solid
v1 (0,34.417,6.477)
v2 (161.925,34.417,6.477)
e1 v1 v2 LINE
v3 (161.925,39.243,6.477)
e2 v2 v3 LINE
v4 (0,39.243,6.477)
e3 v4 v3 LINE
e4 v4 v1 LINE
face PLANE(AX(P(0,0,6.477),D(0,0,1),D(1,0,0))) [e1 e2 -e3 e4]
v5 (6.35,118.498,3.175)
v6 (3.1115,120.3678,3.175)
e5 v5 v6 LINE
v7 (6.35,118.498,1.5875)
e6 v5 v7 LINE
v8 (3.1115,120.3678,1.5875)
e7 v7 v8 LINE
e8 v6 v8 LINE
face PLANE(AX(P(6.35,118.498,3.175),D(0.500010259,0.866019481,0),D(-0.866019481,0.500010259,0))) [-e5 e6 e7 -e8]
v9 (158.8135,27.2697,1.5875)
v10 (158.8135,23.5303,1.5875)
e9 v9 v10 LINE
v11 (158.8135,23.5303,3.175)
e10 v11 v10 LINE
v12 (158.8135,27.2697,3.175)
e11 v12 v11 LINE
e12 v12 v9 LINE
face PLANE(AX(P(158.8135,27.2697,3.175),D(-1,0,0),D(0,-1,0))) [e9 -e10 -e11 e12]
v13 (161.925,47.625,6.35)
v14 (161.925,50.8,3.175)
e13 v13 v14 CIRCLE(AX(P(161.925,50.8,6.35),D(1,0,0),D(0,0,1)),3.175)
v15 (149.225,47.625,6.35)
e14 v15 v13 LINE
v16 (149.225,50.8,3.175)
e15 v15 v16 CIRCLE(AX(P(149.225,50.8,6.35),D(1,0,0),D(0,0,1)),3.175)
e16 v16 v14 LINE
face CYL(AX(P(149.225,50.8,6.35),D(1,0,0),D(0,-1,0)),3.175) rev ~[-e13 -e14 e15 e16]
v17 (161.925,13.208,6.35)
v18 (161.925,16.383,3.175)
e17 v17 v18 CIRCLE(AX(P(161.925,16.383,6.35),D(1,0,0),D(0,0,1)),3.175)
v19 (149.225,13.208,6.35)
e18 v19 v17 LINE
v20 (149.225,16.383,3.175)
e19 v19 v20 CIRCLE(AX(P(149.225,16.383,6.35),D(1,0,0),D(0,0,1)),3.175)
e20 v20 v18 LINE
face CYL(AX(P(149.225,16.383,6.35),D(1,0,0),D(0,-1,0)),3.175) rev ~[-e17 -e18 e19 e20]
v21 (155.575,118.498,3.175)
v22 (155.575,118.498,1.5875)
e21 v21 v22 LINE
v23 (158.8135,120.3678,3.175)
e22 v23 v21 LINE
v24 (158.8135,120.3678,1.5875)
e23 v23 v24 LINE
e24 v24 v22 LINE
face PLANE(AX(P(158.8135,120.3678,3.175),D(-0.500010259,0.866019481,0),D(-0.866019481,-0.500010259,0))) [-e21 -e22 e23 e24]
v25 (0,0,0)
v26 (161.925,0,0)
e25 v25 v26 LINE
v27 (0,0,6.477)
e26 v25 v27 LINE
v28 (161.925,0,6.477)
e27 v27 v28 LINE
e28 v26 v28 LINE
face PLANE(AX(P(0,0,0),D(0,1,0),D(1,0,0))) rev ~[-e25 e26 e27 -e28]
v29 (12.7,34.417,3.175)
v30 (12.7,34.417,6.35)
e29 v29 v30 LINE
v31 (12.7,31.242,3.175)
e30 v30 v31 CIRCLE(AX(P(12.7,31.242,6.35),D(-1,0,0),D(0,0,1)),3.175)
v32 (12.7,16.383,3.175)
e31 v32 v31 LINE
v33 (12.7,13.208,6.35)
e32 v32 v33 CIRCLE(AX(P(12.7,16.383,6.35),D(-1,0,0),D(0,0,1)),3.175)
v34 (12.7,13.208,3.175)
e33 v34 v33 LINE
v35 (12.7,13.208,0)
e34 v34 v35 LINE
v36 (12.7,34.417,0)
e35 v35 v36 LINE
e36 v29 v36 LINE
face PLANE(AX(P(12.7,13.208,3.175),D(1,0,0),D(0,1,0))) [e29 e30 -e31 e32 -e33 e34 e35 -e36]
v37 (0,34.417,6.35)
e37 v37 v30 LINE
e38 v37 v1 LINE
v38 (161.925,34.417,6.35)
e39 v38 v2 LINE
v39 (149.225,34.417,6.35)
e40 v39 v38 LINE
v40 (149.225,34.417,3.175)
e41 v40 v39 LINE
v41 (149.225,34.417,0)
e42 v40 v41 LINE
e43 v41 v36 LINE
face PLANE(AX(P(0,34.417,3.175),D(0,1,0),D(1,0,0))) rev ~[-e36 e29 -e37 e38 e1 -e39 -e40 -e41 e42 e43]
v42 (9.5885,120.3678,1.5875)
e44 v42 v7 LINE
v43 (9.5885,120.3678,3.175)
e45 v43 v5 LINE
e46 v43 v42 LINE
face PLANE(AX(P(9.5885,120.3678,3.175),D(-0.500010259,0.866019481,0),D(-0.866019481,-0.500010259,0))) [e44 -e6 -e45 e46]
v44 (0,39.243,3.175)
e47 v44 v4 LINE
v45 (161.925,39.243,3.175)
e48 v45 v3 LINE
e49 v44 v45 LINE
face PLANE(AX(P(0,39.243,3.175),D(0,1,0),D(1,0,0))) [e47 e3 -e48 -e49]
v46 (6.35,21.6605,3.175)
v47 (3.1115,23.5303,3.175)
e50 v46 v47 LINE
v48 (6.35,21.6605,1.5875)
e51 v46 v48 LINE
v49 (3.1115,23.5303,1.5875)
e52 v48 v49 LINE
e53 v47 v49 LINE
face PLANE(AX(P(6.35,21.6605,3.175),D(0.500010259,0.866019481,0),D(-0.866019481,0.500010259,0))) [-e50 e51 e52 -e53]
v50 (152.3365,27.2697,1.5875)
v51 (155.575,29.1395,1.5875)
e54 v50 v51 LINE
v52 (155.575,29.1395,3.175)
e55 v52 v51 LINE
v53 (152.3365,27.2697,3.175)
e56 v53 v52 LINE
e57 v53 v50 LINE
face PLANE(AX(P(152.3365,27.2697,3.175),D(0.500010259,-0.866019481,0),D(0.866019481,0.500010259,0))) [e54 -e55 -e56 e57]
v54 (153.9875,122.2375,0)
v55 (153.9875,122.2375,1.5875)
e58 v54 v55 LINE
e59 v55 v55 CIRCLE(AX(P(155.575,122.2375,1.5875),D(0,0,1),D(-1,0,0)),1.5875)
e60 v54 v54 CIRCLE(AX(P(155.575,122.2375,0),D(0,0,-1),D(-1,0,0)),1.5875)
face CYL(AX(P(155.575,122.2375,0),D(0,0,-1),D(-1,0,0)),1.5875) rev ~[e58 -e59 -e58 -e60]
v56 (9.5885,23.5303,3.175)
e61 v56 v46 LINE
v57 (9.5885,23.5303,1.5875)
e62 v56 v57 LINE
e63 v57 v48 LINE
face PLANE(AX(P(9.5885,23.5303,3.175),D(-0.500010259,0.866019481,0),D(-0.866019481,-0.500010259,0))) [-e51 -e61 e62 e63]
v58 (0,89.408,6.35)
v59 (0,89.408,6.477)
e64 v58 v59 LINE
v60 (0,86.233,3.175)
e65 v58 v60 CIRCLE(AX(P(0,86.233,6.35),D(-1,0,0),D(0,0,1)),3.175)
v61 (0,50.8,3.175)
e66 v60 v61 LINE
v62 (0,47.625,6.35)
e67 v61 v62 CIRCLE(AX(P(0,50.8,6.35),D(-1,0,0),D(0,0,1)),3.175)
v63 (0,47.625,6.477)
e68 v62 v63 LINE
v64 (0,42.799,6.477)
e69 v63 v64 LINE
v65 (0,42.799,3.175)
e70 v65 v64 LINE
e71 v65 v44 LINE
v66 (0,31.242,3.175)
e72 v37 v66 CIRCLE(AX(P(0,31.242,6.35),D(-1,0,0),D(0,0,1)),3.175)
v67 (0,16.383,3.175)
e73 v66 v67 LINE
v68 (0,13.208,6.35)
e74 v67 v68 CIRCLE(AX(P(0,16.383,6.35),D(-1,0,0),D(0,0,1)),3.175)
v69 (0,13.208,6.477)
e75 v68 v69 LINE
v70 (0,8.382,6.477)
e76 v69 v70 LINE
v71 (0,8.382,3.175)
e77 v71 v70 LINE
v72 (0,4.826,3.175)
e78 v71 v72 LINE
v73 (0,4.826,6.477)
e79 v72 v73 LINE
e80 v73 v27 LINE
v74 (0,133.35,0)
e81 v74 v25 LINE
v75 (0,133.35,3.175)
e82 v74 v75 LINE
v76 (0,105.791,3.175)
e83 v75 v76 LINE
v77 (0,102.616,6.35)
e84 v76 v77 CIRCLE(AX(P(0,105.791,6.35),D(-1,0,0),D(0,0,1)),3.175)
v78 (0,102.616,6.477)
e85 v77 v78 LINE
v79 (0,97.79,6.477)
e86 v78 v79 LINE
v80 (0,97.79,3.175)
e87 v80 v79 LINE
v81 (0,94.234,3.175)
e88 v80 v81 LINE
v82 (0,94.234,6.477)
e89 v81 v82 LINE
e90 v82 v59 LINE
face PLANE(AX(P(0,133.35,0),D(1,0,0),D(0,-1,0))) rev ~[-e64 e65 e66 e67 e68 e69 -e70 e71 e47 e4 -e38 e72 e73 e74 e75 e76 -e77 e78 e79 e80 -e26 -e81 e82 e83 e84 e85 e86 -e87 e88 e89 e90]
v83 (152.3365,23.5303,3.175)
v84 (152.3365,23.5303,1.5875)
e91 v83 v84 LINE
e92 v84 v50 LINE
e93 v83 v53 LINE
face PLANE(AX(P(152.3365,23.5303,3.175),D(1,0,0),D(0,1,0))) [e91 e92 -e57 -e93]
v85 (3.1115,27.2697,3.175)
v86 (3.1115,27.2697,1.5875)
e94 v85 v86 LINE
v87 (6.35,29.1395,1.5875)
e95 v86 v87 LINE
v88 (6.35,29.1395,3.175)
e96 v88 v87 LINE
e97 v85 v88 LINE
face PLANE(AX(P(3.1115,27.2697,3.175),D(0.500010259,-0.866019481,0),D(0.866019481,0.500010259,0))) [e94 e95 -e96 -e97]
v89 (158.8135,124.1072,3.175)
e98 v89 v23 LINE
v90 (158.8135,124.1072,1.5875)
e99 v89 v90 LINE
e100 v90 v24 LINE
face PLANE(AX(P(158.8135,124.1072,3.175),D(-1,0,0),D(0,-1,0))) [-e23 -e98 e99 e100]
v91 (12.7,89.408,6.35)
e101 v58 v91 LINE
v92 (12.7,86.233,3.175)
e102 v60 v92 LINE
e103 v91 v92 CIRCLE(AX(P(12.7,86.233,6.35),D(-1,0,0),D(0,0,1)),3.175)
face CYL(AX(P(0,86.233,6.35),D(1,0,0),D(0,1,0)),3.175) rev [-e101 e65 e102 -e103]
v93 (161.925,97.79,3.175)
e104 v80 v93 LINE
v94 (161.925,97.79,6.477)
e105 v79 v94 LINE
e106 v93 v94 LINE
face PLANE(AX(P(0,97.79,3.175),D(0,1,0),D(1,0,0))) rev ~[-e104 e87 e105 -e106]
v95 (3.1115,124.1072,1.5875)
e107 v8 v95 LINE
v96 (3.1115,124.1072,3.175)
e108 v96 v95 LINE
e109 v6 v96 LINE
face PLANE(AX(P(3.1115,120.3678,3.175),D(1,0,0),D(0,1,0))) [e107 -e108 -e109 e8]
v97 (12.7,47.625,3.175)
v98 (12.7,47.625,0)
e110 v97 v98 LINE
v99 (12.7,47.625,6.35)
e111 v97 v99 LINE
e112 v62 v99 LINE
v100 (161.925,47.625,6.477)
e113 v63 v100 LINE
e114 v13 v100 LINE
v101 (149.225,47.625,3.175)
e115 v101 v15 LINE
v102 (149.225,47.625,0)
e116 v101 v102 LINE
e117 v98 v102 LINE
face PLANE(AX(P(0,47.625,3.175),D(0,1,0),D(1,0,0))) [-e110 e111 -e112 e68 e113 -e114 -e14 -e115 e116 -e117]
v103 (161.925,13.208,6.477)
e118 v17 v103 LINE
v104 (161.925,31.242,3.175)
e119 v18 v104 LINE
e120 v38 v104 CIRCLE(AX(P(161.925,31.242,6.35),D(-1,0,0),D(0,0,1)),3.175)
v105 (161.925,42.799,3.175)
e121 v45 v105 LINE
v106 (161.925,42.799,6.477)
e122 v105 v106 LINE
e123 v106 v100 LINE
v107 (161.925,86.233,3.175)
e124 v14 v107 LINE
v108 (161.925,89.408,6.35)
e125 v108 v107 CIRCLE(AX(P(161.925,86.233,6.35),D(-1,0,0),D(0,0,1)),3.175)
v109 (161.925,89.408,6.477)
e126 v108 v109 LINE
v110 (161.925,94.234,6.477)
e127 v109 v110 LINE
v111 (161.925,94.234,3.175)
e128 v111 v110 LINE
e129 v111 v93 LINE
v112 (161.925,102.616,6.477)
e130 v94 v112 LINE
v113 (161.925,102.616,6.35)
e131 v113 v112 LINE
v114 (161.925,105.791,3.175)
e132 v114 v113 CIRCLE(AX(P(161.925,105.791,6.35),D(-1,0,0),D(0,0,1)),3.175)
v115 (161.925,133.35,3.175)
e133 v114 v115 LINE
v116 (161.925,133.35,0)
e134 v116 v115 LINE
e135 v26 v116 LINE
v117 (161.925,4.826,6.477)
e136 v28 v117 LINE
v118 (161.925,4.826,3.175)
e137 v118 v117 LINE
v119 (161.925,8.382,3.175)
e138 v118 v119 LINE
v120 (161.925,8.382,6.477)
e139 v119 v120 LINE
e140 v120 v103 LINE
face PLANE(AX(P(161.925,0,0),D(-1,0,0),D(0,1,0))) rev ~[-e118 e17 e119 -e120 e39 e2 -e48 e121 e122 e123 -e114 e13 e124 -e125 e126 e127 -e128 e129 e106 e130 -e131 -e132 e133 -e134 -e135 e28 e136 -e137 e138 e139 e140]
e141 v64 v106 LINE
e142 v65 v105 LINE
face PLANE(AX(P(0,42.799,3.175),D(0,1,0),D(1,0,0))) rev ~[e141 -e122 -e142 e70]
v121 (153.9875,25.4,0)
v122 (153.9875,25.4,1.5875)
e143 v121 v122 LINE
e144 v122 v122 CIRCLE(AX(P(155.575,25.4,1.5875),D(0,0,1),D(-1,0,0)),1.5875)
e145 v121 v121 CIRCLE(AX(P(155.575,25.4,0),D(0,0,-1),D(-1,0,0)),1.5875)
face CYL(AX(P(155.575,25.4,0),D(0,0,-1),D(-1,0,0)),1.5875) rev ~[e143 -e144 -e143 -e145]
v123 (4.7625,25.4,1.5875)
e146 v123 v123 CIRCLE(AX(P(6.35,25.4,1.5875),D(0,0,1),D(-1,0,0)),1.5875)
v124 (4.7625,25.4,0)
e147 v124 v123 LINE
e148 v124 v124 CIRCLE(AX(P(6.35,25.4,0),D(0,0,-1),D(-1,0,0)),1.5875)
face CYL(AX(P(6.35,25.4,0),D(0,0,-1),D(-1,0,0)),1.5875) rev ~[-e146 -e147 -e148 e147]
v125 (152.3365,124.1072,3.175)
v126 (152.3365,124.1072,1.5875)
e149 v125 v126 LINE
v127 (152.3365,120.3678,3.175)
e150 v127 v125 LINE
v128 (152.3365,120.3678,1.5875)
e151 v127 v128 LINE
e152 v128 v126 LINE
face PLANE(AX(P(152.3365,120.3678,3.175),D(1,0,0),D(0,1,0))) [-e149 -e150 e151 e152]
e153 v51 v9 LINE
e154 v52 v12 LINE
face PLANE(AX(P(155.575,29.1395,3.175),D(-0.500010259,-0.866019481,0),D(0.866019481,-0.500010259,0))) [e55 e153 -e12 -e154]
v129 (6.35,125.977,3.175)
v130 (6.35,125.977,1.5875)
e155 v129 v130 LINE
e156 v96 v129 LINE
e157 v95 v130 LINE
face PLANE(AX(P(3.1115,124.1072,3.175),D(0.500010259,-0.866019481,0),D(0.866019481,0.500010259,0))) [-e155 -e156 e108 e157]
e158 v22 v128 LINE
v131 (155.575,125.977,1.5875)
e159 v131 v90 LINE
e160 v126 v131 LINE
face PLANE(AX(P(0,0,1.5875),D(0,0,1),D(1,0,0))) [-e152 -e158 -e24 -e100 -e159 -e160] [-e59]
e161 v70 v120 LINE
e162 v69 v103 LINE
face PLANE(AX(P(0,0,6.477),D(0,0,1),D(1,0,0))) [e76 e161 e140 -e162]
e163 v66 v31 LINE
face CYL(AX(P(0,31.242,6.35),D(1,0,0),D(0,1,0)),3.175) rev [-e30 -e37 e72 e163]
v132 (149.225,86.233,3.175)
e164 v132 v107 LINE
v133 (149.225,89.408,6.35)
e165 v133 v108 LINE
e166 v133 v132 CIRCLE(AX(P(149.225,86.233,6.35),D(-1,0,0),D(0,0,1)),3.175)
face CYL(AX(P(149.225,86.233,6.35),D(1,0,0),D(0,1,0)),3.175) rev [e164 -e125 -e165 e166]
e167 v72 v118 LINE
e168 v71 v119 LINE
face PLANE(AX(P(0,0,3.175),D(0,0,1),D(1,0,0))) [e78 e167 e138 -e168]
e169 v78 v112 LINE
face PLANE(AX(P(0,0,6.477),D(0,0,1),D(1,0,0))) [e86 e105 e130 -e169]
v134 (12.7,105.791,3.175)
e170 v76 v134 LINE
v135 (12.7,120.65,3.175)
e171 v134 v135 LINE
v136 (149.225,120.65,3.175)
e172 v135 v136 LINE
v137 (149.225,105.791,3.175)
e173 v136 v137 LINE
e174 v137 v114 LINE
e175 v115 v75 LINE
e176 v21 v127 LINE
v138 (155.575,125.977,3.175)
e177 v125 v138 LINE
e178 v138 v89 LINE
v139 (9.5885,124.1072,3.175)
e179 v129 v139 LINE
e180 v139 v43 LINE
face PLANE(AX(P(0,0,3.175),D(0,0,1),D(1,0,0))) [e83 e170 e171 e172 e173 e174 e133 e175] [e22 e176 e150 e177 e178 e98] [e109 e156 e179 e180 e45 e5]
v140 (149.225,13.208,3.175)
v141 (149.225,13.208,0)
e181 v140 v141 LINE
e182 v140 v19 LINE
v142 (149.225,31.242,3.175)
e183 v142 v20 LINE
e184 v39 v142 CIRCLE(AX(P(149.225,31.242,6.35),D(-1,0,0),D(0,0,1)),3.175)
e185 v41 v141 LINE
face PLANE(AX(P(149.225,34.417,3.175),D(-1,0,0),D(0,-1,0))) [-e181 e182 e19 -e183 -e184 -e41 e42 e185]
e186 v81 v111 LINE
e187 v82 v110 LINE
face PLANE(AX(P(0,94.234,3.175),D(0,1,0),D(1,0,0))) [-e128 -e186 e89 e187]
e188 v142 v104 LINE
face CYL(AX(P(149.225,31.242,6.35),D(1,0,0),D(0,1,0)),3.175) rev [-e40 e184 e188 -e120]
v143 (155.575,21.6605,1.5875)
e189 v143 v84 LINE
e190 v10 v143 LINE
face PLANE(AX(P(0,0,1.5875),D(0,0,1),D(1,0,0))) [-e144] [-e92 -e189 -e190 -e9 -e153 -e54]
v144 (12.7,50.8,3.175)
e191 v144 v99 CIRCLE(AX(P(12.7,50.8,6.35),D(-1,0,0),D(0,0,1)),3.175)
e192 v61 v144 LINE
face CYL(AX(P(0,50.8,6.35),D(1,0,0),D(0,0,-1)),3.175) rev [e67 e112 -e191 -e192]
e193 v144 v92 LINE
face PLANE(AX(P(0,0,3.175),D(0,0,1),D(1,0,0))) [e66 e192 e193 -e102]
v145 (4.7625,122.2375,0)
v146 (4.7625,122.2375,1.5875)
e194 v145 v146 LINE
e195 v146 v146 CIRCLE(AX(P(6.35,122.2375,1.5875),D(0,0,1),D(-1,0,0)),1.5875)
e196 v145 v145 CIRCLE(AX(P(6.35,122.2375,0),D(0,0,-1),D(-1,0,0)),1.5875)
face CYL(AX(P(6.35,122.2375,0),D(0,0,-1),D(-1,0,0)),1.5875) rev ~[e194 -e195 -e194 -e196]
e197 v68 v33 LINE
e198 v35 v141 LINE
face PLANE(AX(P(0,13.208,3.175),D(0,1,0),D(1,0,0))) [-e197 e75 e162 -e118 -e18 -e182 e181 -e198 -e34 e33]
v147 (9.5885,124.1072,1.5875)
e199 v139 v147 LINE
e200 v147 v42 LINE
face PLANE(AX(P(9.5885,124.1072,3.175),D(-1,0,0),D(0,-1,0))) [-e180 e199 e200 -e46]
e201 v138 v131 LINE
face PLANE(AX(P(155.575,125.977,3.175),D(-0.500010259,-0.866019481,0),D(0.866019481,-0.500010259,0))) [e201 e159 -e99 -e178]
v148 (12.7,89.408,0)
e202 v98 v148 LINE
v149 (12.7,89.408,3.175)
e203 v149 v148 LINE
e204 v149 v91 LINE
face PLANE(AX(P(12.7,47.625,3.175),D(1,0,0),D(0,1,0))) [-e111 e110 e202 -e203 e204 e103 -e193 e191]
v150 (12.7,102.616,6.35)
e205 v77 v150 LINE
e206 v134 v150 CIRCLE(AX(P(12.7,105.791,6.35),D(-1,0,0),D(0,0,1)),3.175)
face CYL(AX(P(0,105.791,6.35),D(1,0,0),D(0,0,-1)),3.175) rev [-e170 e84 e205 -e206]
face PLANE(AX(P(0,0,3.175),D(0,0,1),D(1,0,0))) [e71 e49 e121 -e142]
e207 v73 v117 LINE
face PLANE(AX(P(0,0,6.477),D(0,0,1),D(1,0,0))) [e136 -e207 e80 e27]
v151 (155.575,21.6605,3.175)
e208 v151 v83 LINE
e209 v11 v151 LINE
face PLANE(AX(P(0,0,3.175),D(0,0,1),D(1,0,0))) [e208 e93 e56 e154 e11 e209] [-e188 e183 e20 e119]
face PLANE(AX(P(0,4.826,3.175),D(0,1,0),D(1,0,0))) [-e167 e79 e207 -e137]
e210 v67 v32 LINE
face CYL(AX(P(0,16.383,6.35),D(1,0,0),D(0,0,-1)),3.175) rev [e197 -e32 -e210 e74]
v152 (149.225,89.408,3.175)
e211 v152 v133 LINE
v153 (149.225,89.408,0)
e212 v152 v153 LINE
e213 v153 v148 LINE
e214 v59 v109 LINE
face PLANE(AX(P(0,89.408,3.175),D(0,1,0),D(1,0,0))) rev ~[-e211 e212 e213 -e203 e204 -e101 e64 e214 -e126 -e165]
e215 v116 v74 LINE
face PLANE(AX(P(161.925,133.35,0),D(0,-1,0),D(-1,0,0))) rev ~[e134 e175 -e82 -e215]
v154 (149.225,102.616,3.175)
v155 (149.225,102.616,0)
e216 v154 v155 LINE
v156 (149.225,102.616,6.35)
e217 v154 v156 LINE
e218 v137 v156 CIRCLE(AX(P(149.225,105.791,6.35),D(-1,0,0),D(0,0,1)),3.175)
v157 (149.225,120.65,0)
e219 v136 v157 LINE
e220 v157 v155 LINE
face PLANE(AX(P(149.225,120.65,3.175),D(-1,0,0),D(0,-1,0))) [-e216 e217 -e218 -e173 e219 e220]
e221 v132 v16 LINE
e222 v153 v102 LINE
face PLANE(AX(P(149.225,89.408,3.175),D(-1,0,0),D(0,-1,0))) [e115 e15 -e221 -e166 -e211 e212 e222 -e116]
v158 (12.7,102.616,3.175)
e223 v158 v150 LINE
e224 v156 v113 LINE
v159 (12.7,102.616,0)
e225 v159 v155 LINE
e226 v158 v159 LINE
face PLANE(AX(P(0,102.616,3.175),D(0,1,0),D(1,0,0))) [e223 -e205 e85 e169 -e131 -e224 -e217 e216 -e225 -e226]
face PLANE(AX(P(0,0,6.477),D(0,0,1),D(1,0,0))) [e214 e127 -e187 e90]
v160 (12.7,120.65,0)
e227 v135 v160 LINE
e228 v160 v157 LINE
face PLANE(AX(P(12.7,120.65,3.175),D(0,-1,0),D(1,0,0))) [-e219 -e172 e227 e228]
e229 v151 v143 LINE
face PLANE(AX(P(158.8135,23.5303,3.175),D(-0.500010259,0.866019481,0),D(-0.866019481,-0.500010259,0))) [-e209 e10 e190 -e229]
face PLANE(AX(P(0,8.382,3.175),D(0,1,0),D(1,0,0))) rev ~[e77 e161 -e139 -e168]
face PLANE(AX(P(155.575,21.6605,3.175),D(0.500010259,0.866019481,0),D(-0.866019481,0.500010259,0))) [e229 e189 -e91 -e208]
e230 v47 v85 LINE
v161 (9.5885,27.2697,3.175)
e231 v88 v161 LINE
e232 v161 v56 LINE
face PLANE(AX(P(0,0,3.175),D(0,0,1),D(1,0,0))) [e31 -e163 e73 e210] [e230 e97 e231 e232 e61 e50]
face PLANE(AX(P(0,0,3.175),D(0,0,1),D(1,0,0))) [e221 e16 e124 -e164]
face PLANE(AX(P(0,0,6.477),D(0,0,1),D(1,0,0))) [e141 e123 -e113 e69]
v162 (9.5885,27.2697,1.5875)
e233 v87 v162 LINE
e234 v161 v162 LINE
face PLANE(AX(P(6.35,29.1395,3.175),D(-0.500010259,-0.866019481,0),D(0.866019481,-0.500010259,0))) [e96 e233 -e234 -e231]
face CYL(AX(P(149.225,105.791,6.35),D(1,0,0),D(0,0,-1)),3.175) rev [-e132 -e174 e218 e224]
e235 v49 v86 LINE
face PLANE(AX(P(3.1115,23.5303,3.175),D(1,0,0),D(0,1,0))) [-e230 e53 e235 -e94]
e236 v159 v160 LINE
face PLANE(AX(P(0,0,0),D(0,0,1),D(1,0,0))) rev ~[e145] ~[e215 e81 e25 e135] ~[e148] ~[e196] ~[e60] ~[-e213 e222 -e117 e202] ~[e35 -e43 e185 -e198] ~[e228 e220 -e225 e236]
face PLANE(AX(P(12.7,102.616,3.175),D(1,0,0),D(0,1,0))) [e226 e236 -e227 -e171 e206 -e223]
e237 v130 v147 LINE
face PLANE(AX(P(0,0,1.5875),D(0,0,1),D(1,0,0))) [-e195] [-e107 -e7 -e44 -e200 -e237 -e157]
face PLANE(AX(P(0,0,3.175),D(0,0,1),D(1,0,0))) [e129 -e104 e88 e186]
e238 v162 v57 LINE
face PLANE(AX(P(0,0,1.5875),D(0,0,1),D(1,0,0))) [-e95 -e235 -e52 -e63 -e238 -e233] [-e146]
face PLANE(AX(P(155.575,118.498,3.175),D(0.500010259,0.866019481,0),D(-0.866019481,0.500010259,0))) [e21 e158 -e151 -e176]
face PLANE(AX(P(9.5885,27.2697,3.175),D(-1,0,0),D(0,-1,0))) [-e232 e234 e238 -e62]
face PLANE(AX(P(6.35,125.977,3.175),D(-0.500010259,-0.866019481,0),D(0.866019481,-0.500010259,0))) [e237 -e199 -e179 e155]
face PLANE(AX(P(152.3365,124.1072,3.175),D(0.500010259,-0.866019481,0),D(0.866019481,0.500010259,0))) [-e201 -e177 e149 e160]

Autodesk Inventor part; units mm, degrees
ref_plane "YZ Plane" through (0, 0, 0) normal (1, 0, 0) x (0, 1, 0)
ref_plane "XZ Plane" through (0, 0, 0) normal (0, 1, 0) x (-1, 0, 0)
ref_plane "XY Plane" through (0, 0, 0) normal (0, 0, 1) x (1, 0, 0)
sketch "Sketch1" plane through (0, 0, 0) normal (0, 0, 1) x (1, 0, 0)
  line L0 (0, 0) -> (161.925, 0)
  line L1 (161.925, 0) -> (161.925, 133.35)
  line L2 (161.925, 133.35) -> (0, 133.35)
  line L3 (0, 133.35) -> (0, 0)
  dimension "d0" = 161.925
  dimension "d1" = 133.35
extrude "Extrusion1" add sketch "Sketch1" along normal blind 3.175
sketch "Sketch6" plane through (0, 0, 0) normal (0, 0, -1) x (-1, 0, 0)
  circle A0 centre (-155.575, 122.2375) radius 1.5875
  circle A1 centre (-6.35, 122.2375) radius 1.5875
  circle A2 centre (-155.575, 25.4) radius 1.5875
  circle A3 centre (-6.35, 25.4) radius 1.5875
extrude "Extrusion6" cut sketch "Sketch6" against normal blind 3.175
sketch "Sketch7" plane through (0, 0, 3.175) normal (0, 0, 1) x (1, 0, 0)
  circle A0 centre (155.575, 122.2375) radius 1.5875 projected
  circle A1 centre (6.35, 122.2375) radius 1.5875 projected
  line L0 (9.5885, 120.3678) -> (6.35, 118.498)
  line L1 (6.35, 118.498) -> (3.1115, 120.3678)
  line L2 (3.1115, 120.3678) -> (3.1115, 124.1072)
  line L3 (3.1115, 124.1072) -> (6.35, 125.977)
  line L4 (6.35, 125.977) -> (9.5885, 124.1072)
  line L5 (9.5885, 124.1072) -> (9.5885, 120.3678)
  line L6 (158.8135, 120.3678) -> (155.575, 118.498)
  line L7 (155.575, 118.498) -> (152.3365, 120.3678)
  line L8 (152.3365, 120.3678) -> (152.3365, 124.1072)
  line L9 (152.3365, 124.1072) -> (155.575, 125.977)
  line L10 (155.575, 125.977) -> (158.8135, 124.1072)
  line L11 (158.8135, 124.1072) -> (158.8135, 120.3678)
  circle A2 centre (155.575, 25.4) radius 1.5875 projected
  circle A3 centre (6.35, 25.4) radius 1.5875 projected
  line L12 (9.5885, 23.5303) -> (6.35, 21.6605)
  line L13 (6.35, 21.6605) -> (3.1115, 23.5303)
  line L14 (3.1115, 23.5303) -> (3.1115, 27.2697)
  line L15 (3.1115, 27.2697) -> (6.35, 29.1395)
  line L16 (6.35, 29.1395) -> (9.5885, 27.2697)
  line L17 (9.5885, 27.2697) -> (9.5885, 23.5303)
  line L18 (158.8135, 23.5303) -> (155.575, 21.6605)
  line L19 (155.575, 21.6605) -> (152.3365, 23.5303)
  line L20 (152.3365, 23.5303) -> (152.3365, 27.2697)
  line L21 (152.3365, 27.2697) -> (155.575, 29.1395)
  line L22 (155.575, 29.1395) -> (158.8135, 27.2697)
  line L23 (158.8135, 27.2697) -> (158.8135, 23.5303)
  point P0 (9.5885, 122.2375)
  point P1 (158.8135, 122.2375)
extrude "Extrusion7" cut sketch "Sketch7" against normal blind 1.5875
sketch "Sketch11" plane through (0, 0, 3.175) normal (0, 0, 1) x (1, 0, 0)
  line L0 (161.925, 0) -> (161.925, 133.35) projected
  line L1 (0, 133.35) -> (0, 0) projected
  line L2 (0, 102.616) -> (161.925, 102.616)
  line L3 (0, 89.408) -> (161.925, 89.408)
  line L4 (0, 97.79) -> (161.925, 97.79)
  line L5 (0, 94.234) -> (161.925, 94.234)
  line L6 (0, 4.826) -> (161.925, 4.826)
  line L7 (0, 8.382) -> (161.925, 8.382)
  line L8 (0, 0) -> (161.925, 0)
  line L9 (0, 13.208) -> (161.925, 13.208)
  line L10 (0, 47.625) -> (161.925, 47.625)
  line L11 (0, 34.417) -> (161.925, 34.417)
  line L12 (0, 42.799) -> (161.925, 42.799)
  line L13 (0, 39.243) -> (161.925, 39.243)
  line L14 (161.925, 133.35) -> (0, 133.35) projected
  dimension "d83" = 4.826
  dimension "d84" = 3.556
  dimension "d85" = 4.826
  dimension "d86" = 4.826
  dimension "d87" = 3.556
  dimension "d88" = 4.826
  dimension "d89" = 4.826
  dimension "d90" = 3.556
  dimension "d91" = 4.826
  dimension "d96" = 30.861
  dimension "d98" = 35.56
extrude "Extrusion10" add sketch "Sketch11" along normal blind 3.302 contours L8 L1 L6 L0 | L7 L1 L9 L0 | L11 L1 L13 L0 | L12 L1 L10 L0 | L3 L1 L5 L0 | L4 L1 L2 L0
sketch "Sketch15" plane through (0, 0, 3.175) normal (0, 0, 1) x (1, 0, 0)
  line L0 (0, 102.616) -> (161.925, 102.616) projected
  line L1 (12.7, 120.65) -> (149.225, 120.65)
  line L2 (149.225, 120.65) -> (149.225, 102.616)
  line L3 (149.225, 102.616) -> (12.7, 102.616)
  line L4 (12.7, 102.616) -> (12.7, 120.65)
  point P0 (0, 0)
sketch "Sketch16" plane through (0, 0, 3.175) normal (0, 0, 1) x (1, 0, 0)
  line L0 (0, 47.625) -> (161.925, 47.625) projected
  line L1 (161.925, 89.408) -> (0, 89.408) projected
  line L2 (12.7, 89.408) -> (149.225, 89.408)
  line L3 (149.225, 89.408) -> (149.225, 47.625)
  line L4 (149.225, 47.625) -> (12.7, 47.625)
  line L5 (12.7, 47.625) -> (12.7, 89.408)
  point P0 (0, 0)
sketch "Sketch17" plane through (0, 0, 3.175) normal (0, 0, 1) x (1, 0, 0)
  line L0 (0, 13.208) -> (161.925, 13.208) projected
  line L1 (161.925, 34.417) -> (0, 34.417) projected
  line L2 (12.7, 34.417) -> (149.225, 34.417)
  line L3 (149.225, 34.417) -> (149.225, 13.208)
  line L4 (149.225, 13.208) -> (12.7, 13.208)
  line L5 (12.7, 13.208) -> (12.7, 34.417)
  point P0 (0, 0)
extrude "Extrusion14" cut sketch "Sketch15" against normal blind 3.175
extrude "Extrusion15" cut sketch "Sketch16" against normal blind 3.175
extrude "Extrusion16" cut sketch "Sketch17" against normal blind 3.175
fillet "Fillet5" radius 3.175 10 edges at (6.35, 102.616, 3.175) (155.575, 102.616, 3.175) (155.575, 47.625, 3.175) (6.35, 47.625, 3.175) (6.35, 13.208, 3.175) (155.575, 13.208, 3.175) (6.35, 89.408, 3.175) (155.575, 89.408, 3.175) (155.575, 34.417, 3.175) (6.35, 34.417, 3.175)
properties part number "control pod wall ROUGH"
